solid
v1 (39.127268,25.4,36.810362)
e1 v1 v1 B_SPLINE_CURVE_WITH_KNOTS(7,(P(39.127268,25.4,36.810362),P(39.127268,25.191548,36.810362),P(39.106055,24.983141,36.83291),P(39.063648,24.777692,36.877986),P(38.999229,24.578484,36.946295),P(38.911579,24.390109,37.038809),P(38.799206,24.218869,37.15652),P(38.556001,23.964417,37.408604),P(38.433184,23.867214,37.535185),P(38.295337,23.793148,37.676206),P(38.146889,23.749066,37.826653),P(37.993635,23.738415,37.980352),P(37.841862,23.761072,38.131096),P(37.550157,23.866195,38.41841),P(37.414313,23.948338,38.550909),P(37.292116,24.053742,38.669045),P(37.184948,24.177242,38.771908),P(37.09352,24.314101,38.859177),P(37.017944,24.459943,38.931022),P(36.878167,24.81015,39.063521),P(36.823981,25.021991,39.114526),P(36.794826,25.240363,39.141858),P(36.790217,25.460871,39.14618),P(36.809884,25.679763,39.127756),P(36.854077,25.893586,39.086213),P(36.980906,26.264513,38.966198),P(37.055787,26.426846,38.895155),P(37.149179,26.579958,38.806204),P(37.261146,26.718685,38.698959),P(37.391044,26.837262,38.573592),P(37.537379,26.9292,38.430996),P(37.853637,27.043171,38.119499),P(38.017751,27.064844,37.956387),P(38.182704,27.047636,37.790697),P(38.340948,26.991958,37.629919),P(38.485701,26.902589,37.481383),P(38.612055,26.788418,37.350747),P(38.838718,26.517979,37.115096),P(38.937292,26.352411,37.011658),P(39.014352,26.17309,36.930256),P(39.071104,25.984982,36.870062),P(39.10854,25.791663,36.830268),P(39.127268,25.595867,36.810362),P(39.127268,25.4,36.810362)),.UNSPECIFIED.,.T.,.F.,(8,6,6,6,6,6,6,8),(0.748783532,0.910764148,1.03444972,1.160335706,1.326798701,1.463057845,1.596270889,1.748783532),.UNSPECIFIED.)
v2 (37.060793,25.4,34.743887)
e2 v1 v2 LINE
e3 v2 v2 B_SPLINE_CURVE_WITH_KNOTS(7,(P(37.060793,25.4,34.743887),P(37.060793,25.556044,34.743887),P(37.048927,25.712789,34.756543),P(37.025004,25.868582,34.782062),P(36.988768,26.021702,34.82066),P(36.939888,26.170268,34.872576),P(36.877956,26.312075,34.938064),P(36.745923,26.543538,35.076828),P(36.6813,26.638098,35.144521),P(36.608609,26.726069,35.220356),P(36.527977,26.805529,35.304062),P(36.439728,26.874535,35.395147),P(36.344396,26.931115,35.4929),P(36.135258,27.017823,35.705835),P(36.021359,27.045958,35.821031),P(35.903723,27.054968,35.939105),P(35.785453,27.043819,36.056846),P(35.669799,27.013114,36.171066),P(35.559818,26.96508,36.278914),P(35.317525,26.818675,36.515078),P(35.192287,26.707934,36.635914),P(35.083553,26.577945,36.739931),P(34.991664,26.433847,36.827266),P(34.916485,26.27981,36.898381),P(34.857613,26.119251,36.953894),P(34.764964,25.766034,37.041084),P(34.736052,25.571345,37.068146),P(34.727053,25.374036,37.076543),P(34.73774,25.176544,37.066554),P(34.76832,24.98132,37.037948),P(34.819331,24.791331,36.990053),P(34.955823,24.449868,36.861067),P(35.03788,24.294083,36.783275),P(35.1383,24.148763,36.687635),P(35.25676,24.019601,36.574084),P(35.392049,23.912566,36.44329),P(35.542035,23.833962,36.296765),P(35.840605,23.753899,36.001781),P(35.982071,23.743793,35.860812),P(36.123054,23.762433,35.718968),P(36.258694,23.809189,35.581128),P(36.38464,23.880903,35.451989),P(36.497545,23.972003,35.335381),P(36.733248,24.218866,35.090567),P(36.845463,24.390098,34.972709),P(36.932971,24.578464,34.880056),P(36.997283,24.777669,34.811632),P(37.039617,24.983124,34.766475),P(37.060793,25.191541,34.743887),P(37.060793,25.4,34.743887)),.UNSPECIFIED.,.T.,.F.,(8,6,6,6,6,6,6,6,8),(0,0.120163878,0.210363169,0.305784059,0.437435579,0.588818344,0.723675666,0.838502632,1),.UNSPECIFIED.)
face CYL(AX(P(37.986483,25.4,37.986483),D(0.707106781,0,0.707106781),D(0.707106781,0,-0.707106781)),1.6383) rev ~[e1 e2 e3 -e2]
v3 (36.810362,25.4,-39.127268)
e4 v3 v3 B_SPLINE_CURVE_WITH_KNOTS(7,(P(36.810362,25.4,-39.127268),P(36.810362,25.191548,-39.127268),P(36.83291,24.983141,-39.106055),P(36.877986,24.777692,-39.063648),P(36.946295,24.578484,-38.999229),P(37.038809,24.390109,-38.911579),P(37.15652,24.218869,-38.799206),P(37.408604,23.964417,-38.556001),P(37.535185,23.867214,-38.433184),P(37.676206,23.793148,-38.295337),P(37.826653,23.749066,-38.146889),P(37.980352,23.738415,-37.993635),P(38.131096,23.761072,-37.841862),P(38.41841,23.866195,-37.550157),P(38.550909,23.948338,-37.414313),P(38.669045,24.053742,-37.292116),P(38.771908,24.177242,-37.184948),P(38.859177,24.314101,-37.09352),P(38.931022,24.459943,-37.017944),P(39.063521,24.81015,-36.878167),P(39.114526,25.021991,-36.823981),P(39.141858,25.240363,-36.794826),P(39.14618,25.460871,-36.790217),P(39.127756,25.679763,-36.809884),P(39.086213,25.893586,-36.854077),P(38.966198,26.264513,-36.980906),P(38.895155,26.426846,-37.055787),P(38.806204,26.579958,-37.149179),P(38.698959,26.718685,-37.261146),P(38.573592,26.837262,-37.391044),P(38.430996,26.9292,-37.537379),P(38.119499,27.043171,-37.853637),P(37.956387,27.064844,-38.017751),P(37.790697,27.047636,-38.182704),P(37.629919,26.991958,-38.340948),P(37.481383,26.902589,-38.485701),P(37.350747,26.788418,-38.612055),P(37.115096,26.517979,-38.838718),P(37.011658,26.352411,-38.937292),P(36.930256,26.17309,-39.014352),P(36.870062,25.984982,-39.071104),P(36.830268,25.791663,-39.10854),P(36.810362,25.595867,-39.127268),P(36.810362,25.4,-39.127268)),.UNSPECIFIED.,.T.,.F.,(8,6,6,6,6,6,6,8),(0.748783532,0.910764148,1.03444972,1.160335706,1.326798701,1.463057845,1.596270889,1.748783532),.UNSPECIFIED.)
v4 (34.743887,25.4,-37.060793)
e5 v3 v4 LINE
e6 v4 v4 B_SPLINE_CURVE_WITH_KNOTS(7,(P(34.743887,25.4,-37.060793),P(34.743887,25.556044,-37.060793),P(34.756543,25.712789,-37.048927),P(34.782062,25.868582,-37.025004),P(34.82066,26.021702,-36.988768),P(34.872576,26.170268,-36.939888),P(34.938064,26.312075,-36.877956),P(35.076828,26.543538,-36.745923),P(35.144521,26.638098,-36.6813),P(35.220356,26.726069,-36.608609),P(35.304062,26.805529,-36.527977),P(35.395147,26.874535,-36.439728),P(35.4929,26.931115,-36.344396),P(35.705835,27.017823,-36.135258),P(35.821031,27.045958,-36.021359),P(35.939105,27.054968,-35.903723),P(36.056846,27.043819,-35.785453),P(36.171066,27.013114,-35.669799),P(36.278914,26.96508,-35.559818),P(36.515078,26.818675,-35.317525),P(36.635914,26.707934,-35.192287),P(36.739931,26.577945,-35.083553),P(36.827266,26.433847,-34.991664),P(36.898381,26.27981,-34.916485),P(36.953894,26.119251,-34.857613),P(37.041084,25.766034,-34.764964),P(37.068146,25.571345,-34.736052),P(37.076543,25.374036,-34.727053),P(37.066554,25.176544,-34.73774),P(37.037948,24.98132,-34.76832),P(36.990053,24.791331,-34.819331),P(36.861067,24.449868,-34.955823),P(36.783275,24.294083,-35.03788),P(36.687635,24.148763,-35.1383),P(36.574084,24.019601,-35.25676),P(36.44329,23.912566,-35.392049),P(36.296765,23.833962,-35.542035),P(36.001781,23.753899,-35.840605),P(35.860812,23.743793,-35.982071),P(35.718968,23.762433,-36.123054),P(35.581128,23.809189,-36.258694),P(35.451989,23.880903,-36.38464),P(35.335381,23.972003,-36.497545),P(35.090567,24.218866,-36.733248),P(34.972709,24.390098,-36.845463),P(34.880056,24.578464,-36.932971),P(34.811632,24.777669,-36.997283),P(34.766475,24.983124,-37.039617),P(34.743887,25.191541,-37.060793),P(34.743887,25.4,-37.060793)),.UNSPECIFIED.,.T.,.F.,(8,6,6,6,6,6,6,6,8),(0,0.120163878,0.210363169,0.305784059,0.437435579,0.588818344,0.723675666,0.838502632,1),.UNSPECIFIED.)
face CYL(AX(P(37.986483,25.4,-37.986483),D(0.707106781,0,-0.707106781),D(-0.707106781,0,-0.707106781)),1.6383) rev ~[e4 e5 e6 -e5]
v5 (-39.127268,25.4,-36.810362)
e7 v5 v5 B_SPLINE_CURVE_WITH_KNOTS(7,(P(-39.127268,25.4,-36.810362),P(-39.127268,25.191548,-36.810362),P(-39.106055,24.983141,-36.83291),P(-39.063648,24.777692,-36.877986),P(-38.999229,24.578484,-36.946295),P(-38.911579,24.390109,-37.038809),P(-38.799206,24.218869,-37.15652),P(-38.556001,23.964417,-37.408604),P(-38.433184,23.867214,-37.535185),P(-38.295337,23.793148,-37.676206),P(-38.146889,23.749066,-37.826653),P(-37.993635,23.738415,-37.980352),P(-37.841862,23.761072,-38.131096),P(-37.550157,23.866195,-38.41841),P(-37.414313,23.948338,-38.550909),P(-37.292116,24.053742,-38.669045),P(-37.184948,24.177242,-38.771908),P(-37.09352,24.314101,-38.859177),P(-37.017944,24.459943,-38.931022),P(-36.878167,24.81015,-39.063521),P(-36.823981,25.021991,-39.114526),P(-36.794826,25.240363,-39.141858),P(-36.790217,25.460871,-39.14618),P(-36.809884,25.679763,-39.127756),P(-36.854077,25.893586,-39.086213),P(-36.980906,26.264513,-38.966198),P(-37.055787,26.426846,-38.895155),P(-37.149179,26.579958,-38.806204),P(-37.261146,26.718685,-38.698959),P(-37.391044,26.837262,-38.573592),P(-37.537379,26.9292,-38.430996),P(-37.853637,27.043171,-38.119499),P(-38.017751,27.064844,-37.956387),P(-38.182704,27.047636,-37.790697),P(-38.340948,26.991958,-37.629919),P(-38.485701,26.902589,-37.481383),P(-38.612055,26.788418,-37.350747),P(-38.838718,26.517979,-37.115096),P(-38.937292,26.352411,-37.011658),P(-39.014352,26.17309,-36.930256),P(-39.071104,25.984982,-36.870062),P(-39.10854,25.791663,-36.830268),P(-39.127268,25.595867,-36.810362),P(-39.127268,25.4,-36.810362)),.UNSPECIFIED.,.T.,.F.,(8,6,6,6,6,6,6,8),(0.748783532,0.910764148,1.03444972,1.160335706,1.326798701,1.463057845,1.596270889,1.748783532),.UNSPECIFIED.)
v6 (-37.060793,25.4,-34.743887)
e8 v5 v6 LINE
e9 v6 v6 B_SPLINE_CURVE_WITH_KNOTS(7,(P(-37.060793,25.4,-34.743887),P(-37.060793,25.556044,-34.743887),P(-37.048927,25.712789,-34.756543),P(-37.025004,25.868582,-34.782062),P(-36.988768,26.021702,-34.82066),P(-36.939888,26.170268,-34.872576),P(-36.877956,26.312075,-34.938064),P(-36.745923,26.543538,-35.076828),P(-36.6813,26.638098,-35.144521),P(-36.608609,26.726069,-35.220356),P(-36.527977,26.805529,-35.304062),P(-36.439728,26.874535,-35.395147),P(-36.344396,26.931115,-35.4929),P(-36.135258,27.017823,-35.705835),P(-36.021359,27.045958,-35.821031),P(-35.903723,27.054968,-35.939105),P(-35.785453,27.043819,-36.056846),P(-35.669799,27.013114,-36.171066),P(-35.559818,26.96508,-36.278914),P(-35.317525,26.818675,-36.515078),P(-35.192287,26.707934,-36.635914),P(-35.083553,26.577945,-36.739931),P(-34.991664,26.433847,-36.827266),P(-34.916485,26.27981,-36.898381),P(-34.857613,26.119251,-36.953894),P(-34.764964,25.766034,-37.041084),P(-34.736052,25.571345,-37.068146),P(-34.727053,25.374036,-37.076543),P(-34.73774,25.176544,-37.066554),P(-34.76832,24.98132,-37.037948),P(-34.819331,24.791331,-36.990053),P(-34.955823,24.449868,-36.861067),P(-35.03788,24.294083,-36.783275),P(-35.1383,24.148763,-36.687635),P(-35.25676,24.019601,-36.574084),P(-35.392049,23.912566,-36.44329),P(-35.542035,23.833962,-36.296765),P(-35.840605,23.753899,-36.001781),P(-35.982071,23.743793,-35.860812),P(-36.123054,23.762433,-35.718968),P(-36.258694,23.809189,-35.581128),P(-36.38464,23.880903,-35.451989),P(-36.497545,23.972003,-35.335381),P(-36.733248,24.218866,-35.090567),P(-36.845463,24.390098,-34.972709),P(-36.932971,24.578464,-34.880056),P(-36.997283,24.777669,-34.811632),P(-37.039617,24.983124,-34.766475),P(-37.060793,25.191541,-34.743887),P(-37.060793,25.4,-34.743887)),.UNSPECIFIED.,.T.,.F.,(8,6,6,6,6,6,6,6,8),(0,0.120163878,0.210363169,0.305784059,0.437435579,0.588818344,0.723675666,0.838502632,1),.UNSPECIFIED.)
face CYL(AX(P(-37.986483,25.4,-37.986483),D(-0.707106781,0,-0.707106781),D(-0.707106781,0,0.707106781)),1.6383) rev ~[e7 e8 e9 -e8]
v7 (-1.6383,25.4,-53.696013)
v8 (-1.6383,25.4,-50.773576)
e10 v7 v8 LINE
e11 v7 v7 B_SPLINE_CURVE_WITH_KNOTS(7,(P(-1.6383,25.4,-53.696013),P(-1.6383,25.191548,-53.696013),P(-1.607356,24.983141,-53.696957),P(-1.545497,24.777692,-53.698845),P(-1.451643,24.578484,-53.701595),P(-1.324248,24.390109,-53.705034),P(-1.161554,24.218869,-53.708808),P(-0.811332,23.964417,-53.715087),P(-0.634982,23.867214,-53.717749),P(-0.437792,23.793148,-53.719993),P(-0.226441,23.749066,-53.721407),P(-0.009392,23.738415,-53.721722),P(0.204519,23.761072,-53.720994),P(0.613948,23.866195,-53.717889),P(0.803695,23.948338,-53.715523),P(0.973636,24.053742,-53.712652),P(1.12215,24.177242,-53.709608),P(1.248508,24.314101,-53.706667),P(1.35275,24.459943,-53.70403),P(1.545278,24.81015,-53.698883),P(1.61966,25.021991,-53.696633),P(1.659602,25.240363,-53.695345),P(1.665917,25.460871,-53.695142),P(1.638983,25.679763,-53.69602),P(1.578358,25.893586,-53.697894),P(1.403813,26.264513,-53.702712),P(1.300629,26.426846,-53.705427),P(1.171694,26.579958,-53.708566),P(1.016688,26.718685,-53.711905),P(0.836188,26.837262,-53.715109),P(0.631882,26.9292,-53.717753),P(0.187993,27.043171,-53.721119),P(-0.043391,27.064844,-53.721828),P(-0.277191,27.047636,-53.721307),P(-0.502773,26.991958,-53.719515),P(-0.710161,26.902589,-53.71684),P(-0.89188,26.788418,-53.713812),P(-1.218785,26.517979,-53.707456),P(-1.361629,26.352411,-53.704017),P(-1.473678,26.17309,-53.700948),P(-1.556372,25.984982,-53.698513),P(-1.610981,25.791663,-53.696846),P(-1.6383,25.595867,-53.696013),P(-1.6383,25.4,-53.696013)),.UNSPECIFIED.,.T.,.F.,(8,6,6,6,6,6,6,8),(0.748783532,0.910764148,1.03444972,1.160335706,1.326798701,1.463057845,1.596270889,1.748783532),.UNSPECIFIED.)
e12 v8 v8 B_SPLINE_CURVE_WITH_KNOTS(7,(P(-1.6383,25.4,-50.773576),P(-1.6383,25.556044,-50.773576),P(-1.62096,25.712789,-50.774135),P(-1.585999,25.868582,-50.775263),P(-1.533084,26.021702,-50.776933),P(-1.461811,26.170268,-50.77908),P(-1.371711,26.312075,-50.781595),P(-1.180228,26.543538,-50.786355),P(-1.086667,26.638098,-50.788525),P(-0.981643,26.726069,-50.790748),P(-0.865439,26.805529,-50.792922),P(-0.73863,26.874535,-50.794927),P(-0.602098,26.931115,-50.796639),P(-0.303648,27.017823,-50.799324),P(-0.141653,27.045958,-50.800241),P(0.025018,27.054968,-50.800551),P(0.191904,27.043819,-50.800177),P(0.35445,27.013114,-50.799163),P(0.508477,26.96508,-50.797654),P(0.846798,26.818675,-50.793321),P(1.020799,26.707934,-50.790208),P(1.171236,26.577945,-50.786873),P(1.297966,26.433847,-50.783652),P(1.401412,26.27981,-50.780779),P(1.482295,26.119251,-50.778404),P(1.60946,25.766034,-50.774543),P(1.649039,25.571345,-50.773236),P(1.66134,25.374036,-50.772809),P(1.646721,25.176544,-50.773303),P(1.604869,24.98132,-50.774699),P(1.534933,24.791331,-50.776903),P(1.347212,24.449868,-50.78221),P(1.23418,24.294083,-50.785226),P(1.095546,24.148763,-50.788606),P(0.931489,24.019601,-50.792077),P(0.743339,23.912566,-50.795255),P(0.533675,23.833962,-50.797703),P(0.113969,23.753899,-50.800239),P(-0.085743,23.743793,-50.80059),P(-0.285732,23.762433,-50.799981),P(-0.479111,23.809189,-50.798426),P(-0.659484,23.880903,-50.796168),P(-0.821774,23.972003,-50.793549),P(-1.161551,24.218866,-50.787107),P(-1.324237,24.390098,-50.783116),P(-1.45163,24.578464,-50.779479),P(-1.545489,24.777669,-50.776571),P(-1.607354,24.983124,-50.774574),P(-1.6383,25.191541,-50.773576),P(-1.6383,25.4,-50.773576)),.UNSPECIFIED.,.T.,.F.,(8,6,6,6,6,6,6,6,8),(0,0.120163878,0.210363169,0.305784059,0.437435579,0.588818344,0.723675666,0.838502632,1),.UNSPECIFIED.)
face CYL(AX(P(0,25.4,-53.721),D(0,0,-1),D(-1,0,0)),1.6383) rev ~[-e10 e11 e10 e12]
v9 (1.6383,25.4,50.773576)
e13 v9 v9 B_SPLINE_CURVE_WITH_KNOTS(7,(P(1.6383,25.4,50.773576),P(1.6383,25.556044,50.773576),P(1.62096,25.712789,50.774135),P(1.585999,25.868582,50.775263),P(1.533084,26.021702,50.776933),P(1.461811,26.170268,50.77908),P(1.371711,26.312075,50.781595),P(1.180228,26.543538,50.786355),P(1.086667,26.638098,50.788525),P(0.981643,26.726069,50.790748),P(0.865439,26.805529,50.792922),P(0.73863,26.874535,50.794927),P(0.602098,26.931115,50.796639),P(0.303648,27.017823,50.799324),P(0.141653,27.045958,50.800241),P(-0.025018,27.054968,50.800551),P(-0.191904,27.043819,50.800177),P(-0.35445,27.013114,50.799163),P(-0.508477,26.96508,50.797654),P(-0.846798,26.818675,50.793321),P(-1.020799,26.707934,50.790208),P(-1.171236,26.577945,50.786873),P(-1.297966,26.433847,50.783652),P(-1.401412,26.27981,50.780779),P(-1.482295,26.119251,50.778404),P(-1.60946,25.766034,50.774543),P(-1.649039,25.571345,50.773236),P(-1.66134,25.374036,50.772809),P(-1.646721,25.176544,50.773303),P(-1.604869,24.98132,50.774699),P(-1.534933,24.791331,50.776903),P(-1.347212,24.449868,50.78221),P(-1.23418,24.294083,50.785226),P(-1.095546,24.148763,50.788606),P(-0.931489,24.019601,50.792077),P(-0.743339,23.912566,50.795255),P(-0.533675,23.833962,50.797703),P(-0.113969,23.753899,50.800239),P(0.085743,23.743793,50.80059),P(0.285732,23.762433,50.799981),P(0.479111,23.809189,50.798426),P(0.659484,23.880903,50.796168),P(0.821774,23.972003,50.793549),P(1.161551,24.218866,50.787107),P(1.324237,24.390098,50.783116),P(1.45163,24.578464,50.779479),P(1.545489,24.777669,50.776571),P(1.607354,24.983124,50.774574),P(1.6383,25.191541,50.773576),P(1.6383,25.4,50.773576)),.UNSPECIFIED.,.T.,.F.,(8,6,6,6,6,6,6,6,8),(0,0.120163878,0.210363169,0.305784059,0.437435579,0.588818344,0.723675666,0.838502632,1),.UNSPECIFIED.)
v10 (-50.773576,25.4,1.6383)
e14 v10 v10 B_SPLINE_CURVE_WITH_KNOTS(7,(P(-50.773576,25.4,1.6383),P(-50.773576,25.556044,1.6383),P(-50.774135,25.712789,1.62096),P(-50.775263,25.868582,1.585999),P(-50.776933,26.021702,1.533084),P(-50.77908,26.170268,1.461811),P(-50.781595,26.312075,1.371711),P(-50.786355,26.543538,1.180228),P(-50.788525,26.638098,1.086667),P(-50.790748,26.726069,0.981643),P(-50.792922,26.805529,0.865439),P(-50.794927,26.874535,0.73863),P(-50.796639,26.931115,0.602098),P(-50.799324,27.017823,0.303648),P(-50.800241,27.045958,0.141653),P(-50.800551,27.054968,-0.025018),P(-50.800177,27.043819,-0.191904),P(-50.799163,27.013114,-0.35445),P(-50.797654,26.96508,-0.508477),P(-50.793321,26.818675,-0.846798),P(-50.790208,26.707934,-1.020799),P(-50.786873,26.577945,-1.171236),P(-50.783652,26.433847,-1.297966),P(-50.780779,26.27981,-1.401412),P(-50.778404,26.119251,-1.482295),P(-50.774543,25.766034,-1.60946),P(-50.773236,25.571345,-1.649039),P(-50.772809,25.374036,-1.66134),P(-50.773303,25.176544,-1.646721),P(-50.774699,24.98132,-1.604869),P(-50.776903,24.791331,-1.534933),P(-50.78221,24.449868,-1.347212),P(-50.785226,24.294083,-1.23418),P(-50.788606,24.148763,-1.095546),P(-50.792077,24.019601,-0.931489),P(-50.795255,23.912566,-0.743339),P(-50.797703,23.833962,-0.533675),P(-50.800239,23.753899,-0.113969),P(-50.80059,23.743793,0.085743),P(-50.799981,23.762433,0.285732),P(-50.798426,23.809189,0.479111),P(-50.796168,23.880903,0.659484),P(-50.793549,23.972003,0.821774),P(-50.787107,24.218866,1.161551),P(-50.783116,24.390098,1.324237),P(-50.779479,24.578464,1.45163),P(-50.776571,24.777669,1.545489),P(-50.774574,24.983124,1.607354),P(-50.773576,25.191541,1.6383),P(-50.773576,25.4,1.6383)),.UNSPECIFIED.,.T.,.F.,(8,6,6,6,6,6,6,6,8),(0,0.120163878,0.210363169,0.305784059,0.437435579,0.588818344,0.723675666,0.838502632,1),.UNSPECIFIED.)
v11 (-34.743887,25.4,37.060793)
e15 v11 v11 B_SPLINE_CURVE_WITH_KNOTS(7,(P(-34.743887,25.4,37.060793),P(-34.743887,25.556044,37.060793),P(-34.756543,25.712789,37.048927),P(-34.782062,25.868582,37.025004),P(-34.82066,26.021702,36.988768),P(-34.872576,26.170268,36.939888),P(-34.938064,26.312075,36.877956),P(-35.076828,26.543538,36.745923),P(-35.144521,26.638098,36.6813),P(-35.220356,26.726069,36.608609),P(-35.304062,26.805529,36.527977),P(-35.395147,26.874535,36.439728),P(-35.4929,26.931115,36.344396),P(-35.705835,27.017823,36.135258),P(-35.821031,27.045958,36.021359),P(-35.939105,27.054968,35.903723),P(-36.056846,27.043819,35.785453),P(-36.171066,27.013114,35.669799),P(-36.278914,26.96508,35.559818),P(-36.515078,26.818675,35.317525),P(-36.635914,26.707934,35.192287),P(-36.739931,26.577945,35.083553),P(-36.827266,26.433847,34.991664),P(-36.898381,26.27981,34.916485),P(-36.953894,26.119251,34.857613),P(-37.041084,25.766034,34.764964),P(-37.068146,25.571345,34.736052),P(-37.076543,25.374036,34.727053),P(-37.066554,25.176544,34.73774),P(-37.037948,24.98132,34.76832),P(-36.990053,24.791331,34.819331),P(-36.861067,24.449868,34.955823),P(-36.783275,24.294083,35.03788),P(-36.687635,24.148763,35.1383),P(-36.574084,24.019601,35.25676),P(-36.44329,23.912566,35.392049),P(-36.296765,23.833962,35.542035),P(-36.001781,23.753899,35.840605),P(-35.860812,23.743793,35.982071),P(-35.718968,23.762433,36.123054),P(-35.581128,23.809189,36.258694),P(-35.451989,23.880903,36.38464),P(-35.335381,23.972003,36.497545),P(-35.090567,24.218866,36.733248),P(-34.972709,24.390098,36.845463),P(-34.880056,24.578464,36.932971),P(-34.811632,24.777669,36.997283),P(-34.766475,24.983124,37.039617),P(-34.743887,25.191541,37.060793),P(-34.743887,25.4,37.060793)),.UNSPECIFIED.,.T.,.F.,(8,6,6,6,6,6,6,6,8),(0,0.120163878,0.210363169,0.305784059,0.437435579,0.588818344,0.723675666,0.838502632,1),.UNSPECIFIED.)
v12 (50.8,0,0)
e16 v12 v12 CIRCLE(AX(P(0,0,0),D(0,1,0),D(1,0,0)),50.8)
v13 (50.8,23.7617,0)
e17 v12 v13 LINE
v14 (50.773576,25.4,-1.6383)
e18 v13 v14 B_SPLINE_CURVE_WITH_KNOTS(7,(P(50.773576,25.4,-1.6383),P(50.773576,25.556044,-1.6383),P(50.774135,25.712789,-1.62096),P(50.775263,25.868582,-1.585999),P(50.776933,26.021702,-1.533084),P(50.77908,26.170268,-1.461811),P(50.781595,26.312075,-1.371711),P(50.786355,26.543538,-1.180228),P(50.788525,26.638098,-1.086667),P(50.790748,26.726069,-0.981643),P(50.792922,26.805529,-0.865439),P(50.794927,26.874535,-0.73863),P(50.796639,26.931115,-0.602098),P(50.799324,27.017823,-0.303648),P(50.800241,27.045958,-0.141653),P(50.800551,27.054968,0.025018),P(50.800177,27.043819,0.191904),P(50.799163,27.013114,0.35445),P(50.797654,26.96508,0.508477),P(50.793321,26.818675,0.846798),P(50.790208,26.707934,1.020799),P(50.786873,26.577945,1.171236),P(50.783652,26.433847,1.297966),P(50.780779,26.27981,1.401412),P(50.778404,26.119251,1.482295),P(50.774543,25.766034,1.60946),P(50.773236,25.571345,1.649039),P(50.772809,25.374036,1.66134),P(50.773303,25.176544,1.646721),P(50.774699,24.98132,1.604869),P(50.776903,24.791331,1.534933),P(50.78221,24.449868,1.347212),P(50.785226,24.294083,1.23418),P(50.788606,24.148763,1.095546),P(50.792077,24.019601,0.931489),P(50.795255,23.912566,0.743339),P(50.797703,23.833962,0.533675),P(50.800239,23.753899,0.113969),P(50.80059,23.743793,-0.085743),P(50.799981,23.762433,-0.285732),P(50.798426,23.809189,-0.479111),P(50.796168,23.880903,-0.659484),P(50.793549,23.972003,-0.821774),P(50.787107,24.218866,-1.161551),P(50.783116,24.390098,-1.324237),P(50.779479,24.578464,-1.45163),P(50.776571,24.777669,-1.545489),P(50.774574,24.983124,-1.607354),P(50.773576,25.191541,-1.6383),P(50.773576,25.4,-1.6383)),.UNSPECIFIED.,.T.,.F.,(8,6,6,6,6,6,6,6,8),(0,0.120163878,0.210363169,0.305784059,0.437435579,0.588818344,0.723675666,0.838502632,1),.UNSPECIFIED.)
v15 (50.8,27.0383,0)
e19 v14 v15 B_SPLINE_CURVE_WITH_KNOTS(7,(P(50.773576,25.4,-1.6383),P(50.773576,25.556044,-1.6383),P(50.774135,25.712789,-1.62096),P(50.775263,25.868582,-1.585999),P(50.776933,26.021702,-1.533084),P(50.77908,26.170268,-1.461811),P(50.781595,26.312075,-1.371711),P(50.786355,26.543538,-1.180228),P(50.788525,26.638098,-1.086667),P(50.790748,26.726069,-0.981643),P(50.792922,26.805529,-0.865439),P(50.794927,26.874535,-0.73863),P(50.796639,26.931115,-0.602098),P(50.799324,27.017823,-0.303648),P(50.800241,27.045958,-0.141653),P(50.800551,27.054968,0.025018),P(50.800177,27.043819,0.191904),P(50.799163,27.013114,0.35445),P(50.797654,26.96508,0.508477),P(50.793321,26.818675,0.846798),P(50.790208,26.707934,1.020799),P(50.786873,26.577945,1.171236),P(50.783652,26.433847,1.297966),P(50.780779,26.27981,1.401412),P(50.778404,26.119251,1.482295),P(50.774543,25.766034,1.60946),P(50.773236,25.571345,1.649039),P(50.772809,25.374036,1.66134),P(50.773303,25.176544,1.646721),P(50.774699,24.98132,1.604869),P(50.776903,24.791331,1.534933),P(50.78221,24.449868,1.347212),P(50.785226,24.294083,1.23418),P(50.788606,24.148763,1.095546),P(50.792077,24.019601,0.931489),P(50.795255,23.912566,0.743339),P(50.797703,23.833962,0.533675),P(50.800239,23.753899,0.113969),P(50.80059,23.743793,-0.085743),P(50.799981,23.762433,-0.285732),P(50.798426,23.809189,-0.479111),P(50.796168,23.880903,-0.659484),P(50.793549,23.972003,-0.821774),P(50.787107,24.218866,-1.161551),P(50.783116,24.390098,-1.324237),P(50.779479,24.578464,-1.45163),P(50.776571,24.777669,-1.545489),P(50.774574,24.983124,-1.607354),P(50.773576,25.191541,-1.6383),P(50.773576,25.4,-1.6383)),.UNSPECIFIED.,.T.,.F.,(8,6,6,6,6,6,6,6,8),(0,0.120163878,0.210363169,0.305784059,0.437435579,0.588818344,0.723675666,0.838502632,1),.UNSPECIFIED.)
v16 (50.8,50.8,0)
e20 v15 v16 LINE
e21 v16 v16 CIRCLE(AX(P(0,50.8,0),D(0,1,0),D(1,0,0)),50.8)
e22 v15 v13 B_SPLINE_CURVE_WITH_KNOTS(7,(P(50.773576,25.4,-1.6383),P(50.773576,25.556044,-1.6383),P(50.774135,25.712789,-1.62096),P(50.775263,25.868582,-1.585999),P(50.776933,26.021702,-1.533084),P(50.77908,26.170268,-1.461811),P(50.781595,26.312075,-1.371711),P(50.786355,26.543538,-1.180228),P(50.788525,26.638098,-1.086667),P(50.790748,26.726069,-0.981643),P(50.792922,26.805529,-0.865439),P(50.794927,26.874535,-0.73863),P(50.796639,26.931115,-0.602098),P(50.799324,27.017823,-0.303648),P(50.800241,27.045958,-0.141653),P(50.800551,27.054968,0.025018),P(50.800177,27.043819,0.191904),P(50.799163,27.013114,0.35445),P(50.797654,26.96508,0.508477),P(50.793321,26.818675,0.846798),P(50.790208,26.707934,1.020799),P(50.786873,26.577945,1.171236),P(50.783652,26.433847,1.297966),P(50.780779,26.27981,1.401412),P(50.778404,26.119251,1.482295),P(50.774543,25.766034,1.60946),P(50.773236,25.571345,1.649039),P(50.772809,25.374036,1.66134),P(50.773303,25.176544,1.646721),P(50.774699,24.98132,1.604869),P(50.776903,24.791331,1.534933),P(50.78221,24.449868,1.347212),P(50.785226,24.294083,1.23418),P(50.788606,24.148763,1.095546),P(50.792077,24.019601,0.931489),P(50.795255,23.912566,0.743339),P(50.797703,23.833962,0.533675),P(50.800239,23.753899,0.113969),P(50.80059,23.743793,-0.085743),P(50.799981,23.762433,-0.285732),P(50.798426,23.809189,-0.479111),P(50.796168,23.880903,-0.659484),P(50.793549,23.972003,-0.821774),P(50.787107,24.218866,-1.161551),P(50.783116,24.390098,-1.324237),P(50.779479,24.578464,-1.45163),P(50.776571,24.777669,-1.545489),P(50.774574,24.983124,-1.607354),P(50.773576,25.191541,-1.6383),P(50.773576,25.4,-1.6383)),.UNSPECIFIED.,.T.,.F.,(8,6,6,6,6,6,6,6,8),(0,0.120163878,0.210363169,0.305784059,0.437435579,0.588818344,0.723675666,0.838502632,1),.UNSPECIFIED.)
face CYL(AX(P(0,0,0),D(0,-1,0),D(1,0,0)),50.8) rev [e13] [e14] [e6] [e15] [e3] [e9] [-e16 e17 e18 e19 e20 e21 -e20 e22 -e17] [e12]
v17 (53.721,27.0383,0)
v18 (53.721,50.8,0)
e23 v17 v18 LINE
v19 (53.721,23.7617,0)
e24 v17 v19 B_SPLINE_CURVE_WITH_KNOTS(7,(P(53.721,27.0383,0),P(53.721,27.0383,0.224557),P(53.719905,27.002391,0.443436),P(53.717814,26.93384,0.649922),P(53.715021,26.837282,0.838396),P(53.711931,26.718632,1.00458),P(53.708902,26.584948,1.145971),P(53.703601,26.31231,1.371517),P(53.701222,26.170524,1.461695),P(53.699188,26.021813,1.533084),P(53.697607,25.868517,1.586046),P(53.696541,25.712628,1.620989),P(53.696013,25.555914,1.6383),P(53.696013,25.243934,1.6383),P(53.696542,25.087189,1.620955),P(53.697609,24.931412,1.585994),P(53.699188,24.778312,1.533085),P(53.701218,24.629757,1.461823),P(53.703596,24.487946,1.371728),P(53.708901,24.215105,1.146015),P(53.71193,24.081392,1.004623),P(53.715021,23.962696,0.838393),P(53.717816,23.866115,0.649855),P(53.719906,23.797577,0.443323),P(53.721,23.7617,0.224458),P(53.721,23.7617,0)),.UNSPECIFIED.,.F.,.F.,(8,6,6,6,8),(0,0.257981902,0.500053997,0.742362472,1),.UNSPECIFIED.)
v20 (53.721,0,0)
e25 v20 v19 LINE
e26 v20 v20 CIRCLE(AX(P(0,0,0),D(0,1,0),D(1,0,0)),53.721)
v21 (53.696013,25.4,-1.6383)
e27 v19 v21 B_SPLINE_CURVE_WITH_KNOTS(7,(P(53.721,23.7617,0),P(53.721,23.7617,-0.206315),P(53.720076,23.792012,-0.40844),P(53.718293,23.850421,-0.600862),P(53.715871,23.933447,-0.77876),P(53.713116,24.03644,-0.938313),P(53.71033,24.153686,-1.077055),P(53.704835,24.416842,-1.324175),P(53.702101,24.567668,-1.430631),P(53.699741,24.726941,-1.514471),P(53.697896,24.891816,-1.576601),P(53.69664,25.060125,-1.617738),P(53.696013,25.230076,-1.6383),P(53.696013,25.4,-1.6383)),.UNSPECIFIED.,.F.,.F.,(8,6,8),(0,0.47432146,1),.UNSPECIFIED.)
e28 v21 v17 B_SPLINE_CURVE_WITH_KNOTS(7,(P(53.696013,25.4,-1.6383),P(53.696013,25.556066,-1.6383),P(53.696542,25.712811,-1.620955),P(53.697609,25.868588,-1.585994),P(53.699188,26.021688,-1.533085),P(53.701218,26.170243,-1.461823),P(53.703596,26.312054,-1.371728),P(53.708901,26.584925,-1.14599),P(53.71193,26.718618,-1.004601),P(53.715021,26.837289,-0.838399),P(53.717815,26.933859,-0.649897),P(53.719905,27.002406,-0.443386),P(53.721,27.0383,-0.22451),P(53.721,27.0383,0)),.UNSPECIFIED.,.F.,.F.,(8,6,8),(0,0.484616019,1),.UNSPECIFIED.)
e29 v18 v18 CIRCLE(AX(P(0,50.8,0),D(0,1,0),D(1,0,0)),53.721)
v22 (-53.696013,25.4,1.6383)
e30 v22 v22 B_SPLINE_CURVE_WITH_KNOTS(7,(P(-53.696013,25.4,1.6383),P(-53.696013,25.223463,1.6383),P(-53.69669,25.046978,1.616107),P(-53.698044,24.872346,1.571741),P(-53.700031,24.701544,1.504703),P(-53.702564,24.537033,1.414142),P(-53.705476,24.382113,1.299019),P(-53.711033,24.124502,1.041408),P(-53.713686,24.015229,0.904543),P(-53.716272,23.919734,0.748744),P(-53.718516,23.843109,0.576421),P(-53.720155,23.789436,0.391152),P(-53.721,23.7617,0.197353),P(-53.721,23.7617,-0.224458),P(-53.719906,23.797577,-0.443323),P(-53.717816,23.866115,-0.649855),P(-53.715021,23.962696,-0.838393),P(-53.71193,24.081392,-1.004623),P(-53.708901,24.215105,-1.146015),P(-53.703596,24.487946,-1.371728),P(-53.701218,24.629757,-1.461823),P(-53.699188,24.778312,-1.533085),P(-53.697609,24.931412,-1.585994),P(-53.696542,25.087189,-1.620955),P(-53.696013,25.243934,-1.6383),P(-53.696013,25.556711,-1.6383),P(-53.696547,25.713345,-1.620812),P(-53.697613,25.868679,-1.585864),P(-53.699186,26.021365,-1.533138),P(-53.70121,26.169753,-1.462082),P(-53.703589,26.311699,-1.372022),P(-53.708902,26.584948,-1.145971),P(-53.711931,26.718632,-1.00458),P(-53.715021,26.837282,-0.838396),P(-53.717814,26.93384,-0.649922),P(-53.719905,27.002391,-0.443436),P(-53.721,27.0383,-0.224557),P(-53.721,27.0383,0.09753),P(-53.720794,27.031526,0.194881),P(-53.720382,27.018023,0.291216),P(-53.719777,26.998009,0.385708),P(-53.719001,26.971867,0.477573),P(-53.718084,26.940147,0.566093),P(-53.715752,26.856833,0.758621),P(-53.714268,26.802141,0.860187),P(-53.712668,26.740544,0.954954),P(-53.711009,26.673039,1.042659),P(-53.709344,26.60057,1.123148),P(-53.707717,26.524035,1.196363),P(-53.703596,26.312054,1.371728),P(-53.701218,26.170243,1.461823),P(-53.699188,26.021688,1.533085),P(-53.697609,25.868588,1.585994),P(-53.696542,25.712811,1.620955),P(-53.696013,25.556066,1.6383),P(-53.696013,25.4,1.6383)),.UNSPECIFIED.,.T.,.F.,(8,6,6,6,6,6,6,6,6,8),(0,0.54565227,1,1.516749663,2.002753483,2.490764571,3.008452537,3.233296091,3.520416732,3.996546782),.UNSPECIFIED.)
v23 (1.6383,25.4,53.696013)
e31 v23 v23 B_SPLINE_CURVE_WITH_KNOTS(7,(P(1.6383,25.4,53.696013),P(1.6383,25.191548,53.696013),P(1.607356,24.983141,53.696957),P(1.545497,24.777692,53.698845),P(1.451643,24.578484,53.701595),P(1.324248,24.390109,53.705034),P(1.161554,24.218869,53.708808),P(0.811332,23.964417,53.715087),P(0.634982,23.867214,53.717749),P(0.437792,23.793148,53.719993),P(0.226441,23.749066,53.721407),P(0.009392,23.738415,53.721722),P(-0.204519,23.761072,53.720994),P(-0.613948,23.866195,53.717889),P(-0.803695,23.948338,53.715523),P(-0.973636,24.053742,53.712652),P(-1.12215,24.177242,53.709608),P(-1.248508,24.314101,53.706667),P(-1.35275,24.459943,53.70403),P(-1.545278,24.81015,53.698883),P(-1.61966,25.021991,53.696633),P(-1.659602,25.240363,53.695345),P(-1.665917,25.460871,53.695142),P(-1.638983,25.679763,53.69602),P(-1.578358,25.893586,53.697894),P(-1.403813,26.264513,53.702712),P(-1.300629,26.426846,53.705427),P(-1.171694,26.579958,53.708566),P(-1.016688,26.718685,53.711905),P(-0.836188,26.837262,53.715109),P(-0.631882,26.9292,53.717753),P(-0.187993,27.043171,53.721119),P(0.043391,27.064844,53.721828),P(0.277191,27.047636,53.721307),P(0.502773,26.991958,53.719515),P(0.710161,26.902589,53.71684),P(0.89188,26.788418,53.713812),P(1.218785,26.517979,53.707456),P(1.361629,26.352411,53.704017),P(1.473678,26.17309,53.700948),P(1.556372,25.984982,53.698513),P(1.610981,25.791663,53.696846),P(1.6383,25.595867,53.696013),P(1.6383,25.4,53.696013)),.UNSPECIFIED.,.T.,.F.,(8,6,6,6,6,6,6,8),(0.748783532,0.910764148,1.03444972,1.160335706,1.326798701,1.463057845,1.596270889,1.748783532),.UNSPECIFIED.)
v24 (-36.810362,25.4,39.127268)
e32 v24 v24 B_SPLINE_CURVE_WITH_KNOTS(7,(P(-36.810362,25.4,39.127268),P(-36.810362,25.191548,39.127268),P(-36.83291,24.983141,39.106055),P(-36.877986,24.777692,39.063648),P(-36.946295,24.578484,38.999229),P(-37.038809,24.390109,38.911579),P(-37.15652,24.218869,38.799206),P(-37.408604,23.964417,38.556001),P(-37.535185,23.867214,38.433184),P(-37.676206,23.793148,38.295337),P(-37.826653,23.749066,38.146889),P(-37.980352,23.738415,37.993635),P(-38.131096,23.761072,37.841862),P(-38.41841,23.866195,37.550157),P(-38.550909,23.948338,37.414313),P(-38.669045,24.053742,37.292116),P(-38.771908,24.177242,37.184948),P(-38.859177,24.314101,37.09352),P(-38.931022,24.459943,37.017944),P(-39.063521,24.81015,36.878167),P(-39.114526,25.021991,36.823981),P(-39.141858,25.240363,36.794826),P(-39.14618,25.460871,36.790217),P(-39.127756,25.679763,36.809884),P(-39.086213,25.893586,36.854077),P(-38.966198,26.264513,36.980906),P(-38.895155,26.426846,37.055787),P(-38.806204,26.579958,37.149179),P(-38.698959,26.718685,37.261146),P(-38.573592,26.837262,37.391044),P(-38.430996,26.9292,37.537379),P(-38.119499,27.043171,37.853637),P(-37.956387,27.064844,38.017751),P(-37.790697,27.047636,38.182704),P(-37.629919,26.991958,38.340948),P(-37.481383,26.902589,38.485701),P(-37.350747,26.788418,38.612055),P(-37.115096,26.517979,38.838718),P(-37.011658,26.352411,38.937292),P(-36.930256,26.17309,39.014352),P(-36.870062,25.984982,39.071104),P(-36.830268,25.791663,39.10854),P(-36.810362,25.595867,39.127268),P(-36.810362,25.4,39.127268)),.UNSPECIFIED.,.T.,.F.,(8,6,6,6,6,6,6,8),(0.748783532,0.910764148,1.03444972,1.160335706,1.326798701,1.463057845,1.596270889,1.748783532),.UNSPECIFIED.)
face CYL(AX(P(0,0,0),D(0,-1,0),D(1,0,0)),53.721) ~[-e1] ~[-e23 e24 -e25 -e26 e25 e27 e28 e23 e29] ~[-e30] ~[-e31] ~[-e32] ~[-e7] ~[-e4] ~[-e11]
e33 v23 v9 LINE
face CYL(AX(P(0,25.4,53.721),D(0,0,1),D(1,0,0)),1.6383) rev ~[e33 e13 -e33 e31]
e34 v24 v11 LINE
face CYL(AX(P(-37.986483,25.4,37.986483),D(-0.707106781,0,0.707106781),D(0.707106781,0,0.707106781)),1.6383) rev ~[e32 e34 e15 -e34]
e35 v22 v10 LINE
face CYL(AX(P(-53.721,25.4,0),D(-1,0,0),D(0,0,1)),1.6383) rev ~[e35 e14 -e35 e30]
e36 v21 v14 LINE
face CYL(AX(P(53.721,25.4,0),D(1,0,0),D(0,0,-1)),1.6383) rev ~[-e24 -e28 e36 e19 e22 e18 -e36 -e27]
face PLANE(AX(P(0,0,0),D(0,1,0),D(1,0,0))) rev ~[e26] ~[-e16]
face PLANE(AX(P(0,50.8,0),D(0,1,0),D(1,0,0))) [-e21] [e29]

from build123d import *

# Parameters (mm, degrees)
SKETCH1_R               = 53.721
SKETCH1_R_2             = 50.8
EXTRUDE_THIN1_DEPTH     = 50.8
CUT_EXTRUDE1_REACH      = 132.424
CUT_EXTRUDE1_END_RADIUS = 50.8
SKETCH2_R               = 1.6383
CIRPATTERN1_COUNT       = 8


with BuildPart() as part:
    # Sketch1 → Extrude-Thin1 (new body)
    with BuildSketch(Plane(origin=(0, 0, 0), x_dir=(1, 0, 0), z_dir=(0, 1, 0))):
        Circle(SKETCH1_R)
        Circle(SKETCH1_R_2, mode=Mode.SUBTRACT)
    extrude(amount=EXTRUDE_THIN1_DEPTH)

    # Cut-Extrude1: up to this cylinder (the profile starts outside it)
    cut_extrude1_end = Plane(origin=(0, 25.4, 0), z_dir=(0, -1, 0)) * Cylinder(CUT_EXTRUDE1_END_RADIUS, 367.448, mode=Mode.PRIVATE)
    # Sketch2 → Cut-Extrude1 (cut, up to the surface)
    with BuildSketch(Plane.XY.offset(53.721), mode=Mode.PRIVATE) as cut_extrude1_sk1:
        with Locations((0, 25.4)):
            Circle(SKETCH2_R)
    cut_extrude1_tool1 = extrude(cut_extrude1_sk1.sketch, amount=-CUT_EXTRUDE1_REACH, mode=Mode.PRIVATE) - cut_extrude1_end
    cut_extrude1 = cut_extrude1_tool1.solids().sort_by_distance((0, 25.4, 53.721))[0]
    add(cut_extrude1, mode=Mode.SUBTRACT)

    # CirPattern1: Cut-Extrude1 ×8 about axis
    cirpattern1_axis = Axis((0, 50.8, 0), (0, -1, 0))
    for i in range(1, CIRPATTERN1_COUNT):
        add(cut_extrude1.rotate(cirpattern1_axis, i * 360 / CIRPATTERN1_COUNT), mode=Mode.SUBTRACT)


solid = part.part
